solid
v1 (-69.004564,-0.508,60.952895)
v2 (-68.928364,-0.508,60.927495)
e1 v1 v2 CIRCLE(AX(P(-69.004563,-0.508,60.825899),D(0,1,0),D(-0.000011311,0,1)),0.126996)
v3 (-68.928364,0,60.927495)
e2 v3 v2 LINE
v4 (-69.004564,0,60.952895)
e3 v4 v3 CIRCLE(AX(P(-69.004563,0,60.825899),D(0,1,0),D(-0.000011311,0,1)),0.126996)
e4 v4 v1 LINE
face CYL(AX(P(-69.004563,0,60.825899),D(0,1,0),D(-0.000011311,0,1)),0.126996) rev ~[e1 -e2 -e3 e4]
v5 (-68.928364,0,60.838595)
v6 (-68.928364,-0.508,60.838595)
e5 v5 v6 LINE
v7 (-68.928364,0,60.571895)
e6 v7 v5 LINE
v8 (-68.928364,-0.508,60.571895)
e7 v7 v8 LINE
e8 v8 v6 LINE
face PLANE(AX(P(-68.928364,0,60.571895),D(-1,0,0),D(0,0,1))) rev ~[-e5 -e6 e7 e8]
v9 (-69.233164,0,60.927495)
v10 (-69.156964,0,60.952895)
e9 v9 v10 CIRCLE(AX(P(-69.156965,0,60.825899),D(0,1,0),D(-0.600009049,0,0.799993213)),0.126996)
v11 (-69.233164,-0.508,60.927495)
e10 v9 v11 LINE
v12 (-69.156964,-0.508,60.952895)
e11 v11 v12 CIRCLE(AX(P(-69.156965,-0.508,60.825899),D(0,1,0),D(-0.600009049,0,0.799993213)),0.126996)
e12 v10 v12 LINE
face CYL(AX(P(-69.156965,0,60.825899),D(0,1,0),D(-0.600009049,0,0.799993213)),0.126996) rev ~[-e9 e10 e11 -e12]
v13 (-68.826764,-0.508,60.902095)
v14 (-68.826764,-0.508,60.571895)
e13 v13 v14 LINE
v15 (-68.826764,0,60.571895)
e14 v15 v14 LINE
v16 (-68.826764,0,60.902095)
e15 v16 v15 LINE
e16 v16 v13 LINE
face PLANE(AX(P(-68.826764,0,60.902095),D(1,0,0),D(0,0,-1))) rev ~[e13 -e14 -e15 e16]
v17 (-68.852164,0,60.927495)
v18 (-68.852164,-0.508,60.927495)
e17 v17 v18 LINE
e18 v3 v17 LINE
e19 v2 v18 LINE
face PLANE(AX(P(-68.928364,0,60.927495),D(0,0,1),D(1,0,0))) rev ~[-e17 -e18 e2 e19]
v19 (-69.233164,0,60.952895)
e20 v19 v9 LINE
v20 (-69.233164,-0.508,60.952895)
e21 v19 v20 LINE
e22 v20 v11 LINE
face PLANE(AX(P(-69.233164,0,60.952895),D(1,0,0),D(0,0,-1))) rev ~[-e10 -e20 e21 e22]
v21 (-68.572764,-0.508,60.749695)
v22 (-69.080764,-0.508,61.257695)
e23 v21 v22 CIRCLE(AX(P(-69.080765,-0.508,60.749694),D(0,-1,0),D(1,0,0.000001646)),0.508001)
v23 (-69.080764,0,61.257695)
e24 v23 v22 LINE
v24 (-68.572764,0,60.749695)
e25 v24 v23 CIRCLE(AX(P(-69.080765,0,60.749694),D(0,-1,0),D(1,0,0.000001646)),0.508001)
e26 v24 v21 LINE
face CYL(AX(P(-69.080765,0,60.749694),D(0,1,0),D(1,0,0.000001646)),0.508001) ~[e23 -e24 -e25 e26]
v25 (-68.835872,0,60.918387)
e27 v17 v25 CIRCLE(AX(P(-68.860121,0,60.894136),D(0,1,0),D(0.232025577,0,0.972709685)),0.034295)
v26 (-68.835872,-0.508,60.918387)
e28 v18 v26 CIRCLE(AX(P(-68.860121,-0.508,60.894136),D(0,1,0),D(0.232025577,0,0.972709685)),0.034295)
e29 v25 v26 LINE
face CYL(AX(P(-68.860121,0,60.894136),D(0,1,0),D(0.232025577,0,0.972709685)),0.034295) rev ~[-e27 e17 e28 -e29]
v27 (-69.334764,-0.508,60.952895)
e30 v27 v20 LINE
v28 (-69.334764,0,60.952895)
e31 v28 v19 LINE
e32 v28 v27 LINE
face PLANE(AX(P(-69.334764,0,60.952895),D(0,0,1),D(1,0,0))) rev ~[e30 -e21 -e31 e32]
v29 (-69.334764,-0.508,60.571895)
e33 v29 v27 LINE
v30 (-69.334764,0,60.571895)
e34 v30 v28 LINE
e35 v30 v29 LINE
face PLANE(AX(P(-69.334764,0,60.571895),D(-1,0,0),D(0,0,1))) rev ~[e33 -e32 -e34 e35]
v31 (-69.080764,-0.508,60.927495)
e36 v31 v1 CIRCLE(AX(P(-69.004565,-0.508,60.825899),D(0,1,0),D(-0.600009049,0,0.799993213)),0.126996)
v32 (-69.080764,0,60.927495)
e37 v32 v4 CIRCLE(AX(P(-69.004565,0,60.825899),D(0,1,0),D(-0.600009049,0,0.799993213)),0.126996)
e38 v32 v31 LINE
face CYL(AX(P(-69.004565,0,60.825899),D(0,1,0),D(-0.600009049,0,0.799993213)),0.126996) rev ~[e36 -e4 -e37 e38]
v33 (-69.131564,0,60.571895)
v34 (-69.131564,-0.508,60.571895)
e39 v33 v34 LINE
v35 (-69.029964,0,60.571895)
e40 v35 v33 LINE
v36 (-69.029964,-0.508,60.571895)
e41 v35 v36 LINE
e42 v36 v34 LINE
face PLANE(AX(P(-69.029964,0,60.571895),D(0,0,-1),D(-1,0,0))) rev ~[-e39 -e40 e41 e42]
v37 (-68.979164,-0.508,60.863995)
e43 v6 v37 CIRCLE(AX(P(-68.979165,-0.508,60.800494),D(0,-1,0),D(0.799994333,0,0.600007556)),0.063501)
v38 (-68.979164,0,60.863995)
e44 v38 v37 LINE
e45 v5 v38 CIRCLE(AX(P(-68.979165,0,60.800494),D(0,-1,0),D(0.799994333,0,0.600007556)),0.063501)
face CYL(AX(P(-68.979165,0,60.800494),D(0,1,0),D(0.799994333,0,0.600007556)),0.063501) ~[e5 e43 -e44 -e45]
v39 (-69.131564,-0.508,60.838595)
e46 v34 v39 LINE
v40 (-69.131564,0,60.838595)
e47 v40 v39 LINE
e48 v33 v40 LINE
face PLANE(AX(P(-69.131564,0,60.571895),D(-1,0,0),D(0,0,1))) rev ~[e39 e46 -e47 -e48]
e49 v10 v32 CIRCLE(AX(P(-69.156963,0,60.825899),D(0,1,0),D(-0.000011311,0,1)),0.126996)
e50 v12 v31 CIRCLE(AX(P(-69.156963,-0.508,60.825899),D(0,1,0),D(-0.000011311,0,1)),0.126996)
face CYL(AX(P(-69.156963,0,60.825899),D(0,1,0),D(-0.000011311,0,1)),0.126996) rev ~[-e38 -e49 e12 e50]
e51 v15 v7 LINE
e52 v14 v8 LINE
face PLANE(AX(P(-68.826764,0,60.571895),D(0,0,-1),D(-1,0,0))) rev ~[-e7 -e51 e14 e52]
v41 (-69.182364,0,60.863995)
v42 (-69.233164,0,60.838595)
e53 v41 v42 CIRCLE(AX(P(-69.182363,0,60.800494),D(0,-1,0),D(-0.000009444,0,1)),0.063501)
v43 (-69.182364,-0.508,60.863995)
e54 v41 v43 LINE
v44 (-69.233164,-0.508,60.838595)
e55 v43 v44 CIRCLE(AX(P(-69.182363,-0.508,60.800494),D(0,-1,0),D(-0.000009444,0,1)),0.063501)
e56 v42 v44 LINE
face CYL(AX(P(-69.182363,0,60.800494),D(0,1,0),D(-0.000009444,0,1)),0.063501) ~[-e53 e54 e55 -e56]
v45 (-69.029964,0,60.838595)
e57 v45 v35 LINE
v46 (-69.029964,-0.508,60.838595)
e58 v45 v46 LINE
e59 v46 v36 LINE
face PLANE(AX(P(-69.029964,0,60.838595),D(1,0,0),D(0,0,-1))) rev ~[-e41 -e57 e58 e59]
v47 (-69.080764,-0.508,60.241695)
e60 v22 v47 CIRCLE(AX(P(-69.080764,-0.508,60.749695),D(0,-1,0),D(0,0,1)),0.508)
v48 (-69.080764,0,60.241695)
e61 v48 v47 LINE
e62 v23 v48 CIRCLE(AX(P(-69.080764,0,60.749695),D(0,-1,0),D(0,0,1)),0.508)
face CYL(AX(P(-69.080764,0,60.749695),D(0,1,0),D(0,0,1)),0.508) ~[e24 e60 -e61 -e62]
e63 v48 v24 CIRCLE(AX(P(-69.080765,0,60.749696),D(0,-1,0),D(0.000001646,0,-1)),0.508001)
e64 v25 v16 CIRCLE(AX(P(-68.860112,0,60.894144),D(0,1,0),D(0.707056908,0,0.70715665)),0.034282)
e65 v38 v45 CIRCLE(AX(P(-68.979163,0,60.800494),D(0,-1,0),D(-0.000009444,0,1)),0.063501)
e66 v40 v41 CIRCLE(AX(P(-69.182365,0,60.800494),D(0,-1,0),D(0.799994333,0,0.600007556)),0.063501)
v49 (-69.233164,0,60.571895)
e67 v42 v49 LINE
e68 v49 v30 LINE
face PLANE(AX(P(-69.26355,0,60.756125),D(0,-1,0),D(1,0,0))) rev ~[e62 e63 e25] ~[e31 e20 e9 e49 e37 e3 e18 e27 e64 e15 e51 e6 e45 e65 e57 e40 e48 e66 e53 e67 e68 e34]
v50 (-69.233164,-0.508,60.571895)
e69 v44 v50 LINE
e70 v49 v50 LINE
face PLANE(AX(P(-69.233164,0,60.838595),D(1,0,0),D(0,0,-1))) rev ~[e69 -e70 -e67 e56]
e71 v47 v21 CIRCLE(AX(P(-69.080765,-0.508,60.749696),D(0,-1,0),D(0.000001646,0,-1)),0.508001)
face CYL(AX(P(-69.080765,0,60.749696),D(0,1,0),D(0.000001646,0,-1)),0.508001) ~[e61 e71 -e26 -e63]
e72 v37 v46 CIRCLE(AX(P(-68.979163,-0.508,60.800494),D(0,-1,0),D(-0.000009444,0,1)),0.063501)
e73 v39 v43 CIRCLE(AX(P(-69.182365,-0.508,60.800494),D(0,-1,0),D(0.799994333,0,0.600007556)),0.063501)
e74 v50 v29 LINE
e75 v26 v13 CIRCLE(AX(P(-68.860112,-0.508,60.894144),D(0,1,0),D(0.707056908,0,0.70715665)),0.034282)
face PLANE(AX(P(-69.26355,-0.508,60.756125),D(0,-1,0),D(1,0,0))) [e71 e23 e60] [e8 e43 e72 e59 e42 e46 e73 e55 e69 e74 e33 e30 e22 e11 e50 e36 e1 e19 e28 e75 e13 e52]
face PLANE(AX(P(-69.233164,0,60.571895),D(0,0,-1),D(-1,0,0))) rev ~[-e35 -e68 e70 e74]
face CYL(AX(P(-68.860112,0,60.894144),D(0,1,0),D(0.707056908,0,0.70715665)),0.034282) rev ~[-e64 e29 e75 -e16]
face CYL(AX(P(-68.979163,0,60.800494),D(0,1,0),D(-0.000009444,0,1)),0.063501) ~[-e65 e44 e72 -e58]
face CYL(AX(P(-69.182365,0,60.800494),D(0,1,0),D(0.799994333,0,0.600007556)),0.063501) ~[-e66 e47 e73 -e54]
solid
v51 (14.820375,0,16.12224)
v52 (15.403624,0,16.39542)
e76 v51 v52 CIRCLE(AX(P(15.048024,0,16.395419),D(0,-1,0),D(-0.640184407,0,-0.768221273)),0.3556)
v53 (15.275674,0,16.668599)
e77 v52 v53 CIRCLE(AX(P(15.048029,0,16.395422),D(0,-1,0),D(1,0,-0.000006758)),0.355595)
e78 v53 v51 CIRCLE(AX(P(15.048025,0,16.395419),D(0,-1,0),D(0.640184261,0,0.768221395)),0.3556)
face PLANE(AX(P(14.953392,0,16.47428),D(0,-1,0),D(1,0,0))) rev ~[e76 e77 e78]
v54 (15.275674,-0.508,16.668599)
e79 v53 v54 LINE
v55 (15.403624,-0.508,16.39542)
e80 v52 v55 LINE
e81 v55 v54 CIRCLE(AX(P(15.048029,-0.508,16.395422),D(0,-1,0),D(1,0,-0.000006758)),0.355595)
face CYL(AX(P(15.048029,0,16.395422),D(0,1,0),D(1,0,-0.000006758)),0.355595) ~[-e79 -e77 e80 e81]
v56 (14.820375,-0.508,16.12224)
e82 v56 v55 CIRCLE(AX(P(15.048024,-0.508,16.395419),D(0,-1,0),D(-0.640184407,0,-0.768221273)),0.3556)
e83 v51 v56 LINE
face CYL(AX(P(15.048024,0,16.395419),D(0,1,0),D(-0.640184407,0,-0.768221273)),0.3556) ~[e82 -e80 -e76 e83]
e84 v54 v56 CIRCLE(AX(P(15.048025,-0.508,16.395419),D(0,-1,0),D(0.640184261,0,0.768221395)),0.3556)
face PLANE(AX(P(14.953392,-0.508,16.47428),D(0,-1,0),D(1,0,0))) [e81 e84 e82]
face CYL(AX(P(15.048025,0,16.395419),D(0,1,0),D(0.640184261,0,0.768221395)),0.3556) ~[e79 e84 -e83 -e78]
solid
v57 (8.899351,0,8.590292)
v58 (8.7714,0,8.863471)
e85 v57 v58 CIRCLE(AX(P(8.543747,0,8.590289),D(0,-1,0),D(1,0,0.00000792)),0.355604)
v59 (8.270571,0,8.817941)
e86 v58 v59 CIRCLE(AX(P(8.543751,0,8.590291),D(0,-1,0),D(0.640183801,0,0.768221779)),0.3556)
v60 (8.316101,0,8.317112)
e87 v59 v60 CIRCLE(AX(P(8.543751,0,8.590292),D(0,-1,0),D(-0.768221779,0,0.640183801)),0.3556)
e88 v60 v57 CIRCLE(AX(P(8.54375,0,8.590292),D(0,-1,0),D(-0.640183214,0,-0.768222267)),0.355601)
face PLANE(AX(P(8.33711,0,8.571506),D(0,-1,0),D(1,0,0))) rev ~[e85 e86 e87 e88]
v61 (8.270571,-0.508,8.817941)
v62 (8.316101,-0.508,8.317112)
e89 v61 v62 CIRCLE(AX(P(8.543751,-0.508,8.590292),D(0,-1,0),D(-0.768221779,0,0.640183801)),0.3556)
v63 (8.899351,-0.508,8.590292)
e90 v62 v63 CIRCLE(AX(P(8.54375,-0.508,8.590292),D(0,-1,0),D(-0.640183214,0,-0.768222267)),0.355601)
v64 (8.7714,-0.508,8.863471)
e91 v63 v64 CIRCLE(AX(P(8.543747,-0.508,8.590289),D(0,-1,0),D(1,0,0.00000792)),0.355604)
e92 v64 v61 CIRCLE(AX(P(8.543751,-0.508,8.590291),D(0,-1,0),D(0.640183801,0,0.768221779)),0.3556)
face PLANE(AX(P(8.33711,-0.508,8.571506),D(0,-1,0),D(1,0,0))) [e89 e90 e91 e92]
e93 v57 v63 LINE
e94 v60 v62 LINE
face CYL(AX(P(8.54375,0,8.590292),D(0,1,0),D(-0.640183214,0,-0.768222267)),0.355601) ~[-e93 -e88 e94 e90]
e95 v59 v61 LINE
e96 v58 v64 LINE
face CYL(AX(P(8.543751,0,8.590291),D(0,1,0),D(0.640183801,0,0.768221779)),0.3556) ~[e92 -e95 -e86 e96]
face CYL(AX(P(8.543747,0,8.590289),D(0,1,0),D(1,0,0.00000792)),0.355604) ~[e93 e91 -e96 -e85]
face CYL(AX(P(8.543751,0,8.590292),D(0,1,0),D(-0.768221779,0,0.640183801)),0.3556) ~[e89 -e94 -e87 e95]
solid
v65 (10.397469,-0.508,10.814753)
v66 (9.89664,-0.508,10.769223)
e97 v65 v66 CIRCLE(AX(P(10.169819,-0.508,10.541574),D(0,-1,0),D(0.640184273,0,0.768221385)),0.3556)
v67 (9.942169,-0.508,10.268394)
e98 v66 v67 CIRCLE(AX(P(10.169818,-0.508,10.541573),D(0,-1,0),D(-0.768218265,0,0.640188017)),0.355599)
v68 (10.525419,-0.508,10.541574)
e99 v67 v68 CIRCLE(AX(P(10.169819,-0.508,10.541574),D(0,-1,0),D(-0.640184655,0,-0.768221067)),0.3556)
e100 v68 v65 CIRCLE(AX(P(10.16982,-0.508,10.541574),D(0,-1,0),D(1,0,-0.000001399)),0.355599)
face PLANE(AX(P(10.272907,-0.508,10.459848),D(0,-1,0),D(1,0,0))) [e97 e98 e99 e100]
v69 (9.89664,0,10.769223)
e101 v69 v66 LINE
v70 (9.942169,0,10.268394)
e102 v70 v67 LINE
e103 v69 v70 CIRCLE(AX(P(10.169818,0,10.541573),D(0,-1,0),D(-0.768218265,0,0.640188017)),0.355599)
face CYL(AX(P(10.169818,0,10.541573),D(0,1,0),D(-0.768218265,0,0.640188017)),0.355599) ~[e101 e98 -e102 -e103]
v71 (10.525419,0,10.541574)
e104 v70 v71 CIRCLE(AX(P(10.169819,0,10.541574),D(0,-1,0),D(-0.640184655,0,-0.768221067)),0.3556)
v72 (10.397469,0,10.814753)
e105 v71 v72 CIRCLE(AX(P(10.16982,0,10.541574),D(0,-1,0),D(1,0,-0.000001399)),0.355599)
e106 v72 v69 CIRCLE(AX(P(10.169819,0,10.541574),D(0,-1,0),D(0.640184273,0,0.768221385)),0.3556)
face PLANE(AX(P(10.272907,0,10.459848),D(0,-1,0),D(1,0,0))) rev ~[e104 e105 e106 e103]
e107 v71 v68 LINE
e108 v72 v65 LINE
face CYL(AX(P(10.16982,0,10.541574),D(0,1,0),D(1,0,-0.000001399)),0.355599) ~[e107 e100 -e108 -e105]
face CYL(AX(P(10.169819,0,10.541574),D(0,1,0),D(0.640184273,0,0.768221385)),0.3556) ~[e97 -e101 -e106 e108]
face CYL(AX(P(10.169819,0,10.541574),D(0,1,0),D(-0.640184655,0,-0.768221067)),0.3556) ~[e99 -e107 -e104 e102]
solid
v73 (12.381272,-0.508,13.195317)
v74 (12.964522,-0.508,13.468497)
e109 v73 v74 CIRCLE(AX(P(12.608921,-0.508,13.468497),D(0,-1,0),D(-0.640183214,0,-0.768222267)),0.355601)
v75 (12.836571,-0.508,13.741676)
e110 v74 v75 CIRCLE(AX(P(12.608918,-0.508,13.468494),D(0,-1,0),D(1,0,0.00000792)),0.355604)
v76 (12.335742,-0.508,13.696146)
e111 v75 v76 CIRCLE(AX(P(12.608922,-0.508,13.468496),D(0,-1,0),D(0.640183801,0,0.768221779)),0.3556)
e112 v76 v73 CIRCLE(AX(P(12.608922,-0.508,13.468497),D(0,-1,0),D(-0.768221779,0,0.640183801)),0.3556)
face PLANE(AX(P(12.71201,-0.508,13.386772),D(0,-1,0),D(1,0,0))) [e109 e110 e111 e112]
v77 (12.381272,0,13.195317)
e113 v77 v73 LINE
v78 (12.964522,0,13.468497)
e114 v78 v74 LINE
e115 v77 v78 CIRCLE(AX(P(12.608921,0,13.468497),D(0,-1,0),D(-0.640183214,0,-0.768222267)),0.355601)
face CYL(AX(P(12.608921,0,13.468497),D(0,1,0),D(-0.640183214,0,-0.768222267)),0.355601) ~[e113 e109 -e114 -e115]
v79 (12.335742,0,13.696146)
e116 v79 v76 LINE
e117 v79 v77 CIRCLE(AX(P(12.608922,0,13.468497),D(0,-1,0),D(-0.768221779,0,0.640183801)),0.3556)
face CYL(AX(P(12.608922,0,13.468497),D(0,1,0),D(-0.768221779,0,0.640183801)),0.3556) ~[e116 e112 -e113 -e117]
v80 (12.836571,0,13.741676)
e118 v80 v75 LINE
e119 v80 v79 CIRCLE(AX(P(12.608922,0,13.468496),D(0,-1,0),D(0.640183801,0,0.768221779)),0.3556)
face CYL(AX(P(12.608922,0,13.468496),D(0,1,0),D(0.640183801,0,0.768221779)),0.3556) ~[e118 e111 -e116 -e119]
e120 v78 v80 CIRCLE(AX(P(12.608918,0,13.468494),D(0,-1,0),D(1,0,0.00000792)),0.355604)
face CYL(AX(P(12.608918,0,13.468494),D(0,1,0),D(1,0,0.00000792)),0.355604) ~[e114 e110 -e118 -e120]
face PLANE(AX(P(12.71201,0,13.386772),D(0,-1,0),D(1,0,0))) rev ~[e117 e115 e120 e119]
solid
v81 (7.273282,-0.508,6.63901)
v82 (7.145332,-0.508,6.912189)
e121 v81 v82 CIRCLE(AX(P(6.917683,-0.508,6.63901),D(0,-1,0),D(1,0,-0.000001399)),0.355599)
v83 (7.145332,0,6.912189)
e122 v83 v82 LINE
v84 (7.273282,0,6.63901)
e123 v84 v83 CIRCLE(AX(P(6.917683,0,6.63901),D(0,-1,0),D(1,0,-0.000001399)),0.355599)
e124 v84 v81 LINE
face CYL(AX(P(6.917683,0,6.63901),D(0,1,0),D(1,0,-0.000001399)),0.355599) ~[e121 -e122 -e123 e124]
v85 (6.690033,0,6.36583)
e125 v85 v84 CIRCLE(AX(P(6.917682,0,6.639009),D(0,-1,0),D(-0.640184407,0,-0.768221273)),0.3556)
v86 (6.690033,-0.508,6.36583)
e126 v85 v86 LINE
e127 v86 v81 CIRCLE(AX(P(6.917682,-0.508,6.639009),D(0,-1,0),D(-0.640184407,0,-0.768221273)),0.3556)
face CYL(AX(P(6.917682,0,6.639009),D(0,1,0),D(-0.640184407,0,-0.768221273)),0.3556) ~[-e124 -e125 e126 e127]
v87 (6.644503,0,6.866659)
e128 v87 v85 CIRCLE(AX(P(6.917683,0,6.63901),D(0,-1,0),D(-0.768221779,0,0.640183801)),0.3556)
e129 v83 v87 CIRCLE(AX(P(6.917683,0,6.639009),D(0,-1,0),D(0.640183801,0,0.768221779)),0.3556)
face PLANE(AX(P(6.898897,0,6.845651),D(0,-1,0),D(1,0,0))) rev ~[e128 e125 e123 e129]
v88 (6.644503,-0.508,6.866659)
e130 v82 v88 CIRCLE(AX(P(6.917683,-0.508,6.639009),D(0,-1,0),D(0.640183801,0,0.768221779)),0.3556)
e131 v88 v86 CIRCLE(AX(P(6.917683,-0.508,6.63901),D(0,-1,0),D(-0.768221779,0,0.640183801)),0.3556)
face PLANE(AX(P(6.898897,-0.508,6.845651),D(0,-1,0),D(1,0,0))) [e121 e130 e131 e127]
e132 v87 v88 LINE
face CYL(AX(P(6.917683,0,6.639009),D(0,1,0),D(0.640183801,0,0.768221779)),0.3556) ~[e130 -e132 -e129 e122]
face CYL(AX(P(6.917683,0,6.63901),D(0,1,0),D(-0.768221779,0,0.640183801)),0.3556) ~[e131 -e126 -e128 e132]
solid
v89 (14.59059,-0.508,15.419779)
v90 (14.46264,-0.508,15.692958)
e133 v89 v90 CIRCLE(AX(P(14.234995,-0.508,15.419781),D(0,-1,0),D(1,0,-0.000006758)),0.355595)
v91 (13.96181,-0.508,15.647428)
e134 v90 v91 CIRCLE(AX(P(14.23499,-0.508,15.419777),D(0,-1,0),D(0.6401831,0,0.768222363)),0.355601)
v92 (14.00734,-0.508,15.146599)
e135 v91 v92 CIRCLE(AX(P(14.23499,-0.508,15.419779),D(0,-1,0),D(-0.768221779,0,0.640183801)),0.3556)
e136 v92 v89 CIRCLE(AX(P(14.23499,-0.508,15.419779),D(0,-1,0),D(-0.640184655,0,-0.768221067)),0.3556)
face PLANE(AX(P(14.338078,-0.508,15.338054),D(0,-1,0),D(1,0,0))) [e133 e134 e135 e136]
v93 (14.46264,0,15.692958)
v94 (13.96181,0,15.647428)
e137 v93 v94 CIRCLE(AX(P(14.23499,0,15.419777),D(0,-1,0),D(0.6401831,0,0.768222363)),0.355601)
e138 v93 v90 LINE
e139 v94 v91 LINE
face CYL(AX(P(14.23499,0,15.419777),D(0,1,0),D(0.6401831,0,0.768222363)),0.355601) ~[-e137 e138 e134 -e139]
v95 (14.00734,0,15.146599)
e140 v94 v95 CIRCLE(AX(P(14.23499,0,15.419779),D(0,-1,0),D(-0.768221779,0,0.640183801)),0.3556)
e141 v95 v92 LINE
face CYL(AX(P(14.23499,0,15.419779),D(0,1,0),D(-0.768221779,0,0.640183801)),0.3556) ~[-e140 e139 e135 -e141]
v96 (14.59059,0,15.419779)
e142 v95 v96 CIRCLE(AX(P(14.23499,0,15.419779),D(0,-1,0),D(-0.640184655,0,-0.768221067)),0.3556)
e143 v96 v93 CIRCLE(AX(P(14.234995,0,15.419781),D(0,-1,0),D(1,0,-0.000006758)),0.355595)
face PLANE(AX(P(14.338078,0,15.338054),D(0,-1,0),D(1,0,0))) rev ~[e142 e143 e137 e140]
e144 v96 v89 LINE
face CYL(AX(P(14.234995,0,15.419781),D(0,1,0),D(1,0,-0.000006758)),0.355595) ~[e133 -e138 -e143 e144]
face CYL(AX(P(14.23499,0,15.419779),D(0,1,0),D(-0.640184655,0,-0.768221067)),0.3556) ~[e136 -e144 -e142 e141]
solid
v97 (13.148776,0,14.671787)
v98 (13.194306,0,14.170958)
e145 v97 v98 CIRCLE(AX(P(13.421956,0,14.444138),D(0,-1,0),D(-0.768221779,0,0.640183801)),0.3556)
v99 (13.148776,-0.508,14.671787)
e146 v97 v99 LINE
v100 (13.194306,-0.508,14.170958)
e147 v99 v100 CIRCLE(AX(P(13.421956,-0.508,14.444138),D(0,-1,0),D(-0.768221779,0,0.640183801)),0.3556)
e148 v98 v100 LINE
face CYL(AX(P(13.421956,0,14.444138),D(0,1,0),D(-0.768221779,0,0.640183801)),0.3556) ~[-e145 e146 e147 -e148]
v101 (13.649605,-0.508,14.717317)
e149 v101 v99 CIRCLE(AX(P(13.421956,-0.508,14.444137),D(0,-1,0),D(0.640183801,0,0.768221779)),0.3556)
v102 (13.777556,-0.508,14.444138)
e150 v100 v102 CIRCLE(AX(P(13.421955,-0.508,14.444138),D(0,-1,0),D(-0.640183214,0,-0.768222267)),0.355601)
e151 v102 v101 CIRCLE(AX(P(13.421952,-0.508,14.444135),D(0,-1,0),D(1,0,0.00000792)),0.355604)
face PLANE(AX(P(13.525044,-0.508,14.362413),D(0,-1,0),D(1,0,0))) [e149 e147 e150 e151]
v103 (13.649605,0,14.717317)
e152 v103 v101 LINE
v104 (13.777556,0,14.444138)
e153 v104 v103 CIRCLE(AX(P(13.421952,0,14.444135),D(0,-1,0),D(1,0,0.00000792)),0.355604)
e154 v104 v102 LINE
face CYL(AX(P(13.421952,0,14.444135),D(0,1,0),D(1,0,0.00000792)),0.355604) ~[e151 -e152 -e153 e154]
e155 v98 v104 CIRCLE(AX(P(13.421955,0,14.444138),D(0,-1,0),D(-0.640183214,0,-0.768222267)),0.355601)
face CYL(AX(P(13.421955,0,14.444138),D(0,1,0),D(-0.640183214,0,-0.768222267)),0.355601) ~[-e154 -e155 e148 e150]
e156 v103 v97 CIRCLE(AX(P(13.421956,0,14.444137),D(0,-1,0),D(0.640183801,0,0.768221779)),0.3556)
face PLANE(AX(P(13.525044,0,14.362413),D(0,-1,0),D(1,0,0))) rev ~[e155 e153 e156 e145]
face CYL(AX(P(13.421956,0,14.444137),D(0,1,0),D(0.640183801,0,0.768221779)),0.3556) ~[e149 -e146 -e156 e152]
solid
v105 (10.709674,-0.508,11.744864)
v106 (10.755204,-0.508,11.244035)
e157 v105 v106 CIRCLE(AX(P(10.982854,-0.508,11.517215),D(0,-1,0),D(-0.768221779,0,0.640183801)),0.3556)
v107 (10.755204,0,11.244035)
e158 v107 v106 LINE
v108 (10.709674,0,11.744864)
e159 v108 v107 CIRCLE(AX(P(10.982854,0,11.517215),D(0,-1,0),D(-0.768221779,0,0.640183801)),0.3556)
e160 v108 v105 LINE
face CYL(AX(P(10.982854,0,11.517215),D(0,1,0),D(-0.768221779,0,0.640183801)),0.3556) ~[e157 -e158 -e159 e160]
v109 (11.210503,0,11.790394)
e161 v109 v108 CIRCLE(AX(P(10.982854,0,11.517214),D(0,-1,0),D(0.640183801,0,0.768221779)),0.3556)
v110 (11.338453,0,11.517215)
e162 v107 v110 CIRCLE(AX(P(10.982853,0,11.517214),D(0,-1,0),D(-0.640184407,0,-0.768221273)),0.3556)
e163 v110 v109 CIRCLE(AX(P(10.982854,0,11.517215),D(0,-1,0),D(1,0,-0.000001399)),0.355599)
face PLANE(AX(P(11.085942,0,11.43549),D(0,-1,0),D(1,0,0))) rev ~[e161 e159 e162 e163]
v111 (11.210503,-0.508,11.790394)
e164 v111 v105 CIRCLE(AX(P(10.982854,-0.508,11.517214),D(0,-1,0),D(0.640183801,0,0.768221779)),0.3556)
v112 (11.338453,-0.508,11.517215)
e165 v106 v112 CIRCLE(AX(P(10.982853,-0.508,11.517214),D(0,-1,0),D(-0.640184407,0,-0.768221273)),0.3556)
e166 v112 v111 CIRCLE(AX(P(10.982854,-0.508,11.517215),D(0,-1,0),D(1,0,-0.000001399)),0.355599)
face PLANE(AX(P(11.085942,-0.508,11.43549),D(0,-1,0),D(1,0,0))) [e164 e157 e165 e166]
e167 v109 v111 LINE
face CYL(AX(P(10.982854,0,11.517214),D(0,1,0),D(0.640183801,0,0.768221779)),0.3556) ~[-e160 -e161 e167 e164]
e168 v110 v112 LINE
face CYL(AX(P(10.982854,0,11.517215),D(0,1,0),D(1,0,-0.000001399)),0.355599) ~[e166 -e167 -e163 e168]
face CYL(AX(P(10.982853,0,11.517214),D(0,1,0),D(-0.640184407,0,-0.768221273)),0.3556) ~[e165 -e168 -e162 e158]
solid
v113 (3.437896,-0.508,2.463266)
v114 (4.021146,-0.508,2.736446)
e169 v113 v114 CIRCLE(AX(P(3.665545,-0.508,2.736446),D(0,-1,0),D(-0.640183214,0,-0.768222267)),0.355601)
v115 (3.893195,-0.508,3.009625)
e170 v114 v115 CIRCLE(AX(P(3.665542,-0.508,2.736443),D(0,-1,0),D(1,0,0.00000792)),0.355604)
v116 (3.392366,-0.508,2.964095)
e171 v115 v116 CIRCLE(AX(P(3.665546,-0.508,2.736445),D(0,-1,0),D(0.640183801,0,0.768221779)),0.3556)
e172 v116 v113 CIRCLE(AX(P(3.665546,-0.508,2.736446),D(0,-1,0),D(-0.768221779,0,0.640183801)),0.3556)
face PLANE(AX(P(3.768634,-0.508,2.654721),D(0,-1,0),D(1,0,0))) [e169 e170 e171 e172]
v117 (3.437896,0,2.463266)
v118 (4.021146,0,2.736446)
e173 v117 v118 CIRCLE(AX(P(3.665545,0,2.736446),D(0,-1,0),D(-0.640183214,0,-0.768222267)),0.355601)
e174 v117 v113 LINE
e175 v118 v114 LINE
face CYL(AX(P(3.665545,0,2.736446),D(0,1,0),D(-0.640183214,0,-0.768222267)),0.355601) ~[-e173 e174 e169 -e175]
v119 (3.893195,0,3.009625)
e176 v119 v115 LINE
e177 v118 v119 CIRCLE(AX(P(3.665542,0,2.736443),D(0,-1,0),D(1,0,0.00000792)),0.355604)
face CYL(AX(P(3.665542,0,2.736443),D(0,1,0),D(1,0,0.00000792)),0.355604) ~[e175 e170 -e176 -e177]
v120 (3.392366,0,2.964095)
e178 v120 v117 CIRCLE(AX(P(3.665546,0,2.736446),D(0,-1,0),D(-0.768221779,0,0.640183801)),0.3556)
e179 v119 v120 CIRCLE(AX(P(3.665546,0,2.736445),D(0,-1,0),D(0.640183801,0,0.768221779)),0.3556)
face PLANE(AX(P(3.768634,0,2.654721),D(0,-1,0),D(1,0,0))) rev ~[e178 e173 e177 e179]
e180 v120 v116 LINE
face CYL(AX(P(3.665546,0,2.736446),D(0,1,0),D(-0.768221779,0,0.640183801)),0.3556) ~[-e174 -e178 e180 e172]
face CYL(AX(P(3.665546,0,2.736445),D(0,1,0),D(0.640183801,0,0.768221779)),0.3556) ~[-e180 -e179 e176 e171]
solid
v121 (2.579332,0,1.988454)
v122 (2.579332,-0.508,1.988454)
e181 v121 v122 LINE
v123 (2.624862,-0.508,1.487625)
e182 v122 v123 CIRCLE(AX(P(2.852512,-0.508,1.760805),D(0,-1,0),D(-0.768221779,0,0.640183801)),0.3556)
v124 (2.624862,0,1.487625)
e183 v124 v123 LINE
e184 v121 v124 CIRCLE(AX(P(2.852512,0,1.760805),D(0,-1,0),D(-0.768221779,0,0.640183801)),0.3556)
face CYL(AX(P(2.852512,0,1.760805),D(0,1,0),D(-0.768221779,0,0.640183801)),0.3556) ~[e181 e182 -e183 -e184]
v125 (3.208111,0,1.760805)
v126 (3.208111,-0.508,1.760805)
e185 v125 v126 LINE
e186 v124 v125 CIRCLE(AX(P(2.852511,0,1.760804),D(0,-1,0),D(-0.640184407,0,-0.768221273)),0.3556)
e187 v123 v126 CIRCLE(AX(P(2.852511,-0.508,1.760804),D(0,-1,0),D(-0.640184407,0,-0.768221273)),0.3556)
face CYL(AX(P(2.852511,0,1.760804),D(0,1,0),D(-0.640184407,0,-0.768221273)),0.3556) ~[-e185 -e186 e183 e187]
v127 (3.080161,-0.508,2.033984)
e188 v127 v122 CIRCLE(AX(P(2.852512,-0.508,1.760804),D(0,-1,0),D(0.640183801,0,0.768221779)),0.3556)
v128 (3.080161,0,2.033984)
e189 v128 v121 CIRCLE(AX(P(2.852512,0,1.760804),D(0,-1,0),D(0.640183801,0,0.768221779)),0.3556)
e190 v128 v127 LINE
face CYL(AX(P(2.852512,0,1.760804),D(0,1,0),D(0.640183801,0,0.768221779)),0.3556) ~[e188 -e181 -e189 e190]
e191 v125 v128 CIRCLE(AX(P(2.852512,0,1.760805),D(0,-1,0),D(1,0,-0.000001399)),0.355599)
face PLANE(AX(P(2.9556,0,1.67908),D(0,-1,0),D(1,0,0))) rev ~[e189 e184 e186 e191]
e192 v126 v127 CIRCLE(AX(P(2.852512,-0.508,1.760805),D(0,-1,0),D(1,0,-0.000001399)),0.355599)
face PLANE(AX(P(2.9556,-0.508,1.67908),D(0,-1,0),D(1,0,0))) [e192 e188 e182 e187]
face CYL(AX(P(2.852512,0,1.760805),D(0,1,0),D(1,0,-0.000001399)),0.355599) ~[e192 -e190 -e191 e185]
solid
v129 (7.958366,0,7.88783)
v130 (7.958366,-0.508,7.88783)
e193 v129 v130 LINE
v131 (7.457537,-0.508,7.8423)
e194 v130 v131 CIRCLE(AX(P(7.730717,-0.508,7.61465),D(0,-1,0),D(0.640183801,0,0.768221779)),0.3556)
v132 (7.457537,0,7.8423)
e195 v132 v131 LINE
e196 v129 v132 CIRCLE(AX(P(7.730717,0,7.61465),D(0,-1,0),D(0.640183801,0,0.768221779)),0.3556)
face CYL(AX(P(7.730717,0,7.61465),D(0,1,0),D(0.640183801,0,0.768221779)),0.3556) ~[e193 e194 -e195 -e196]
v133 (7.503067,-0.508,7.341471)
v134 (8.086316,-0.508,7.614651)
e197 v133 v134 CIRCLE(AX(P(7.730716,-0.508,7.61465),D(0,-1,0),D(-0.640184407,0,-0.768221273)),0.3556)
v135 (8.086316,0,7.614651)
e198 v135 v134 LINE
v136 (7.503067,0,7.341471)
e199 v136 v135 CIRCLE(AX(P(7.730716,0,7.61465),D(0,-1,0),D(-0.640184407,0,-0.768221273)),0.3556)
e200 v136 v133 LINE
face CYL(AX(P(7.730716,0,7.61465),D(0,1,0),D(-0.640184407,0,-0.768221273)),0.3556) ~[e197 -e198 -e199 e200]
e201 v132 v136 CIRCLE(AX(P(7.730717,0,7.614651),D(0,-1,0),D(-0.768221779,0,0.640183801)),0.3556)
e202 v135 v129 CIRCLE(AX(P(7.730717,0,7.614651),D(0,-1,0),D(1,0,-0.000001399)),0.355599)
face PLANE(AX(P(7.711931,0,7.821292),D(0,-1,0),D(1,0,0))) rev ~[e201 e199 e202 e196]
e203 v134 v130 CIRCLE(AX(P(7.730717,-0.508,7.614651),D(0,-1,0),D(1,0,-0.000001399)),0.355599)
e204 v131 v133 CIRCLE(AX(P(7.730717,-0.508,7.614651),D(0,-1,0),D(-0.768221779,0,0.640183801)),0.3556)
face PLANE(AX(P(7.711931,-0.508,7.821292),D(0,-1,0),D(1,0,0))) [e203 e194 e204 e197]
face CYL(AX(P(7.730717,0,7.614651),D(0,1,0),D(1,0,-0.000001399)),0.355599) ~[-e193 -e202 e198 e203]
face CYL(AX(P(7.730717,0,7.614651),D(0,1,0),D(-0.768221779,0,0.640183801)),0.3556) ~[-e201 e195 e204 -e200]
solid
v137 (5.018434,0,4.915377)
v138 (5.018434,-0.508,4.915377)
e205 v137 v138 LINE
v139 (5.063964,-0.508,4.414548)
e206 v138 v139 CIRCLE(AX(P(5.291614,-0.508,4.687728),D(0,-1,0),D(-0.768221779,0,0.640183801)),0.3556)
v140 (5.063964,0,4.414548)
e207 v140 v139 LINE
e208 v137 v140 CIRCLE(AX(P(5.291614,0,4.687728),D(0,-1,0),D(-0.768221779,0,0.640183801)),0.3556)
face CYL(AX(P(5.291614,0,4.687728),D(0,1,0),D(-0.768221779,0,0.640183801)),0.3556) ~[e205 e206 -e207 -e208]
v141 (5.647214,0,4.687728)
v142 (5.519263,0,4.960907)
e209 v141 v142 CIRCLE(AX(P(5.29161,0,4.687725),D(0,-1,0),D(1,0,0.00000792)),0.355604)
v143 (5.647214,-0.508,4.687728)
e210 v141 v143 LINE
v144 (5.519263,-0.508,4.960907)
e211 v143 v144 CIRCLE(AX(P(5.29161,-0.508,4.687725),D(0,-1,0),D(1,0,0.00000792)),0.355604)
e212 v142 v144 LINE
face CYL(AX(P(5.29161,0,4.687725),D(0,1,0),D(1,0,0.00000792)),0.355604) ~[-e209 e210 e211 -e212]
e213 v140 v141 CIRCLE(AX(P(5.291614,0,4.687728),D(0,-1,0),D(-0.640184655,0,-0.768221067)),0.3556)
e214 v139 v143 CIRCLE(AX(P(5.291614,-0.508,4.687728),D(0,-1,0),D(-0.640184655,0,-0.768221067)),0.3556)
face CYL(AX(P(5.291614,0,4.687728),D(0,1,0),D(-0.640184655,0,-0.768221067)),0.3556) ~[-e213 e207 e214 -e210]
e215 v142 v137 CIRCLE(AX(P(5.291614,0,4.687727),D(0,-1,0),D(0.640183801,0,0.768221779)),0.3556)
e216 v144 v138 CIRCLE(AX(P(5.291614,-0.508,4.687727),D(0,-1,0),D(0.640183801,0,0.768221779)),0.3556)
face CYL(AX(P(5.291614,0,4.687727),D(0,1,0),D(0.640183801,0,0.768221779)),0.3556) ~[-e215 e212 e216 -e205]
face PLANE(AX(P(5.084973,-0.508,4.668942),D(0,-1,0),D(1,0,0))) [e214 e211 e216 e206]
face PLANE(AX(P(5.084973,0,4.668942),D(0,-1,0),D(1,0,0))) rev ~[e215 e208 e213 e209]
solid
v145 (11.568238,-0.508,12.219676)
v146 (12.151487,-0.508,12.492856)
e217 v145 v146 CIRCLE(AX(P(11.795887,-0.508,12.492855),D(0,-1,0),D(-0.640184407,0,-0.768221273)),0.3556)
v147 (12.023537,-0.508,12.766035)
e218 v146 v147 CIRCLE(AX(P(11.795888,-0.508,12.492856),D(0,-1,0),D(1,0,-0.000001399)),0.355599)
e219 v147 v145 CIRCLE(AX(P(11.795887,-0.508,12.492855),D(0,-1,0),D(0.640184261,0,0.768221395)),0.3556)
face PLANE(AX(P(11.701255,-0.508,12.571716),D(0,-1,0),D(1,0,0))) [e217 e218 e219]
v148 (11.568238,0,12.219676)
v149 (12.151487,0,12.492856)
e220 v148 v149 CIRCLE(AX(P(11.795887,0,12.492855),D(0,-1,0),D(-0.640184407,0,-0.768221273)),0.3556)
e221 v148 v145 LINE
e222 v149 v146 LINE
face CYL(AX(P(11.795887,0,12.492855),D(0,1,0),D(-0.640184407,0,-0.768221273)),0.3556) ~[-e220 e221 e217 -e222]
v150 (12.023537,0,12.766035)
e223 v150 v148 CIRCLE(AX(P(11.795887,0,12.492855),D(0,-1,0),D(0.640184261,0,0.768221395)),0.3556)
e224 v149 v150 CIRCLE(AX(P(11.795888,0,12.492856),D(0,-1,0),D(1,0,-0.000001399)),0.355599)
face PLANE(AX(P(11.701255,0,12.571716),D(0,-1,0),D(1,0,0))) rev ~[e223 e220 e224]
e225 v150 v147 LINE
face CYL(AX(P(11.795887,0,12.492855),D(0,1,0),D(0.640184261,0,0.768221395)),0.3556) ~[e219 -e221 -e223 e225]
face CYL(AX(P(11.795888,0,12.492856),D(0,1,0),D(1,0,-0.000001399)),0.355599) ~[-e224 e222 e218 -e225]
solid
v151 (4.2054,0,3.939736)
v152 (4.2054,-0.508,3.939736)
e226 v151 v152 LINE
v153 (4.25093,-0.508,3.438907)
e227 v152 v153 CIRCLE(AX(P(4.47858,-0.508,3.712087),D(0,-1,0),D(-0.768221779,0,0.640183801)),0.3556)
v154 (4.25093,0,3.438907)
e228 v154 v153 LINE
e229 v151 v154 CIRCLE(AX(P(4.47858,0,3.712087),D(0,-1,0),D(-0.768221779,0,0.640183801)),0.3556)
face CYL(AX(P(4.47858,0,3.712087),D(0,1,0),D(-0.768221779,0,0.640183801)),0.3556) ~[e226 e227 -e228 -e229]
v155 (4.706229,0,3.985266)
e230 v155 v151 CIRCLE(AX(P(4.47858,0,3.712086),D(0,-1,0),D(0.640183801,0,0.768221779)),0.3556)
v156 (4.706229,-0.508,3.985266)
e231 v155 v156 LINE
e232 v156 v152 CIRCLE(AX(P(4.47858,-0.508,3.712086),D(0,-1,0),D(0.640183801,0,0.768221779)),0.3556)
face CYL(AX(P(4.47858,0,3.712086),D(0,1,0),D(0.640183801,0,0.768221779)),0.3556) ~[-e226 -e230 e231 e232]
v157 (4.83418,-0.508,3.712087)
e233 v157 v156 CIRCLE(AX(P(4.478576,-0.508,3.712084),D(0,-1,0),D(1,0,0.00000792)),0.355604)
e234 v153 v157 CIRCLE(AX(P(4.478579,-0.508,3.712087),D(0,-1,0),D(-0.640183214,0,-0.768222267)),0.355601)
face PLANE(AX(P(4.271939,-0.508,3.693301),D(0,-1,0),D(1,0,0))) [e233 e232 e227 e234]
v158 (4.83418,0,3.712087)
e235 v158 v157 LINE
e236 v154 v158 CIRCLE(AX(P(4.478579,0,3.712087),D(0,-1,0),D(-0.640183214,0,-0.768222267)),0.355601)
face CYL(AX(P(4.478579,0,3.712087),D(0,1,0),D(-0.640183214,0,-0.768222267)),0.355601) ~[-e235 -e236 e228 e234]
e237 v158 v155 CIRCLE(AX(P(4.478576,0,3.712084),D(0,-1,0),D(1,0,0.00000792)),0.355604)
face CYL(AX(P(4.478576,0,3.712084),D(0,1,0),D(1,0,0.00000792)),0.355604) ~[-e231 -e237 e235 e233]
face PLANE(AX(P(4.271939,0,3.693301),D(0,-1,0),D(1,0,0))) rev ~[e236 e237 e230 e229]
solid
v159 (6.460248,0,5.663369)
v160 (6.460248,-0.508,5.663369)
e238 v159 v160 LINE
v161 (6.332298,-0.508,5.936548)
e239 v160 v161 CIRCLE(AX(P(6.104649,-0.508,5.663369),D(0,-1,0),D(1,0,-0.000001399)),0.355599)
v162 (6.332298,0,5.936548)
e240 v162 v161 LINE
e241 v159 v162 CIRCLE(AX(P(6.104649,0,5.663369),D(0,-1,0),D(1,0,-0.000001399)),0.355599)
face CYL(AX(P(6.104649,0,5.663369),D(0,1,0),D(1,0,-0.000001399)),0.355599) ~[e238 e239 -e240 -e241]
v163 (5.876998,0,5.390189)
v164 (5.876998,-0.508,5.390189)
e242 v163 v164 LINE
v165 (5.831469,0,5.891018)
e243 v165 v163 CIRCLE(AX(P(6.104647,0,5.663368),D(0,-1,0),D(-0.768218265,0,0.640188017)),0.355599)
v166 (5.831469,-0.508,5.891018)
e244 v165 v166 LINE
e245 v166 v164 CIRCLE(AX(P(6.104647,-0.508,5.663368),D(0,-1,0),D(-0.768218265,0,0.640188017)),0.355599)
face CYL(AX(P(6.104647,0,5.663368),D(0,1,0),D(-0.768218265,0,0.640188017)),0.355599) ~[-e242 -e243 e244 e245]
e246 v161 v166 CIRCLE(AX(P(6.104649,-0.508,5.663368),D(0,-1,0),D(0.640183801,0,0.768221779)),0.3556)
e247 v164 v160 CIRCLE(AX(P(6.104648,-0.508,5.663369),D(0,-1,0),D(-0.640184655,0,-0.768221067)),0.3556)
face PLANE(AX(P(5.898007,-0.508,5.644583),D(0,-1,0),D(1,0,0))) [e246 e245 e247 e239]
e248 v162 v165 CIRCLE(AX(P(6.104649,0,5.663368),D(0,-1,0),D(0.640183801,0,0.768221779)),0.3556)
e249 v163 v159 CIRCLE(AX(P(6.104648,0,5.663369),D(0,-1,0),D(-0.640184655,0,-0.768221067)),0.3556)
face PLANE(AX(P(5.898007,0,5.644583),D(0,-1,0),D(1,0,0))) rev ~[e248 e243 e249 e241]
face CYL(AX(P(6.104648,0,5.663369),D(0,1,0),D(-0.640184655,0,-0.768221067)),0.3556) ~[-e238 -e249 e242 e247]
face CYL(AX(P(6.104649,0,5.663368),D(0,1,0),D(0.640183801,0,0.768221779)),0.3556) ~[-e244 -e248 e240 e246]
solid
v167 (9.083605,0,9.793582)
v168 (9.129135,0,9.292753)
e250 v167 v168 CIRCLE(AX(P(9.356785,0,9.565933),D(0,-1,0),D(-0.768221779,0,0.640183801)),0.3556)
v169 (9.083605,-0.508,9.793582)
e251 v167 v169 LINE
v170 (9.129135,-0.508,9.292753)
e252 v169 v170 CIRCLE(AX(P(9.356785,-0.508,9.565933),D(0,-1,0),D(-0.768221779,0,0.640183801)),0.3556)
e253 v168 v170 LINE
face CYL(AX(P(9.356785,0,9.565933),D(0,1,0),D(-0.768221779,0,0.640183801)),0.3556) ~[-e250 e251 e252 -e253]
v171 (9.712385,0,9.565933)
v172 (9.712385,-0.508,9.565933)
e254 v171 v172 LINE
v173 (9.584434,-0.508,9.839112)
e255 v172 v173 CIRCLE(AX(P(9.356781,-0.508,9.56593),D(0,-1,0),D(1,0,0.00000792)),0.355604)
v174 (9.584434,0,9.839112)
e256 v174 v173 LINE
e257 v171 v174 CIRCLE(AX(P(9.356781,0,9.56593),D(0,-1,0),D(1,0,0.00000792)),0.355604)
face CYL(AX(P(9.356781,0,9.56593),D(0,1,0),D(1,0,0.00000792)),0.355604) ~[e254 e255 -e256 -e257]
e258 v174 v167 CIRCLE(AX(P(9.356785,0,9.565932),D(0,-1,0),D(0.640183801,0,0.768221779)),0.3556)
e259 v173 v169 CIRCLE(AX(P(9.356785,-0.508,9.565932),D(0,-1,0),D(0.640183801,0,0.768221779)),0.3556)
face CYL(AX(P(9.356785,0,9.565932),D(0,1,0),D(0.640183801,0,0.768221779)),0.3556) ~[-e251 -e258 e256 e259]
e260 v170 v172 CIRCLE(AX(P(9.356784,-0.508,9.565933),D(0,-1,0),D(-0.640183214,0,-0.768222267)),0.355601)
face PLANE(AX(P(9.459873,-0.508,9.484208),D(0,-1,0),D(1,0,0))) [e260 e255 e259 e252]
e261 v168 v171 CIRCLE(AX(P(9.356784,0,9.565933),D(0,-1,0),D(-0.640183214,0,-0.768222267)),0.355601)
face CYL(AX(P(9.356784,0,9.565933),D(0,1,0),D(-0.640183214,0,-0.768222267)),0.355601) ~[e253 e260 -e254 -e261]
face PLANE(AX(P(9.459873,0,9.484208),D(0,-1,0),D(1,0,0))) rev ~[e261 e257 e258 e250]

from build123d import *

# Parameters (mm, degrees)
F1_DEPTH = 0.508


with BuildPart() as f1:
    # F0 (on Front) → F1 (new body)
    with BuildSketch(Plane.XZ):
        with BuildLine():
            Line((-69.080764, 60.927495), (-69.080764, 61.257695))
            ThreePointArc((-69.080764, 61.257695), (-69.588764, 60.749695), (-69.080764, 60.241695))
            Line((-69.080764, 60.241695), (-69.080764, 60.571895))
            Line((-69.080764, 60.571895), (-69.131564, 60.571895))
            Line((-69.131564, 60.571895), (-69.131564, 60.838595))
            ThreePointArc((-69.131564, 60.838595), (-69.153966, 60.857291), (-69.182364, 60.863995))
            ThreePointArc((-69.182364, 60.863995), (-69.210762, 60.857291), (-69.233164, 60.838595))
            Line((-69.233164, 60.838595), (-69.233164, 60.571895))
            Line((-69.233164, 60.571895), (-69.334764, 60.571895))
            Line((-69.334764, 60.571895), (-69.334764, 60.749695))
            Line((-69.334764, 60.749695), (-69.334764, 60.952895))
            Line((-69.334764, 60.952895), (-69.233164, 60.952895))
            Line((-69.233164, 60.952895), (-69.233164, 60.927495))
            ThreePointArc((-69.233164, 60.927495), (-69.197125, 60.946378), (-69.156964, 60.952895))
            ThreePointArc((-69.156964, 60.952895), (-69.116803, 60.946378), (-69.080764, 60.927495))
        make_face()
        with BuildLine():
            ThreePointArc((-69.080764, 60.241695), (-68.721554, 60.390485), (-68.572764, 60.749695))
            ThreePointArc((-68.572764, 60.749695), (-68.721554, 61.108905), (-69.080764, 61.257695))
            Line((-69.080764, 61.257695), (-69.080764, 60.927495))
            ThreePointArc((-69.080764, 60.927495), (-69.044725, 60.946378), (-69.004564, 60.952895))
            ThreePointArc((-69.004564, 60.952895), (-68.964403, 60.946378), (-68.928364, 60.927495))
            Line((-68.928364, 60.927495), (-68.852164, 60.927495))
            ThreePointArc((-68.852164, 60.927495), (-68.843387, 60.924071), (-68.835872, 60.918387))
            ThreePointArc((-68.835872, 60.918387), (-68.830188, 60.910873), (-68.826764, 60.902095))
            Line((-68.826764, 60.902095), (-68.826764, 60.749695))
            Line((-68.826764, 60.749695), (-68.826764, 60.571895))
            Line((-68.826764, 60.571895), (-68.928364, 60.571895))
            Line((-68.928364, 60.571895), (-68.928364, 60.838595))
            ThreePointArc((-68.928364, 60.838595), (-68.950766, 60.857291), (-68.979164, 60.863995))
            ThreePointArc((-68.979164, 60.863995), (-69.007562, 60.857291), (-69.029964, 60.838595))
            Line((-69.029964, 60.838595), (-69.029964, 60.571895))
            Line((-69.029964, 60.571895), (-69.080764, 60.571895))
            Line((-69.080764, 60.571895), (-69.080764, 60.241695))
        make_face()
        with BuildLine():
            Line((10.982853, 11.517215), (10.755204, 11.244035))
            ThreePointArc((10.755204, 11.244035), (11.133683, 11.195187), (11.338453, 11.517215))
            ThreePointArc((11.338453, 11.517215), (11.304881, 11.668044), (11.210503, 11.790394))
            Line((11.210503, 11.790394), (10.982853, 11.517215))
        make_face()
        with BuildLine():
            Line((10.169819, 10.541574), (9.942169, 10.268394))
            ThreePointArc((9.942169, 10.268394), (10.320649, 10.219546), (10.525419, 10.541574))
            ThreePointArc((10.525419, 10.541574), (10.491847, 10.692403), (10.397469, 10.814753))
            Line((10.397469, 10.814753), (10.169819, 10.541574))
        make_face()
        with BuildLine():
            Line((7.457537, 7.8423), (7.730716, 7.614651))
            Line((7.730716, 7.614651), (7.958366, 7.88783))
            ThreePointArc((7.958366, 7.88783), (7.698522, 7.96879), (7.457537, 7.8423))
        make_face()
        with BuildLine():
            ThreePointArc((8.270571, 8.817941), (8.189611, 8.558097), (8.316101, 8.317112))
            Line((8.316101, 8.317112), (8.543751, 8.590292))
            Line((8.543751, 8.590292), (8.270571, 8.817941))
        make_face()
        with BuildLine():
            Line((3.080161, 2.033984), (2.852511, 1.760805))
            Line((2.852511, 1.760805), (2.624862, 1.487625))
            ThreePointArc((2.624862, 1.487625), (3.003341, 1.438777), (3.208111, 1.760805))
            ThreePointArc((3.208111, 1.760805), (3.174539, 1.911634), (3.080161, 2.033984))
        make_face()
        with BuildLine():
            ThreePointArc((7.457537, 7.8423), (7.376577, 7.582456), (7.503067, 7.341471))
            Line((7.503067, 7.341471), (7.730716, 7.614651))
            Line((7.730716, 7.614651), (7.457537, 7.8423))
        make_face()
        with BuildLine():
            ThreePointArc((5.831469, 5.891018), (5.750508, 5.631174), (5.876998, 5.390189))
            Line((5.876998, 5.390189), (6.104648, 5.663369))
            Line((6.104648, 5.663369), (5.831469, 5.891018))
        make_face()
        with BuildLine():
            Line((9.89664, 10.769223), (10.169819, 10.541574))
            Line((10.169819, 10.541574), (10.397469, 10.814753))
            ThreePointArc((10.397469, 10.814753), (10.137624, 10.895713), (9.89664, 10.769223))
        make_face()
        with BuildLine():
            Line((8.270571, 8.817941), (8.543751, 8.590292))
            Line((8.543751, 8.590292), (8.7714, 8.863471))
            ThreePointArc((8.7714, 8.863471), (8.511556, 8.944431), (8.270571, 8.817941))
        make_face()
        with BuildLine():
            ThreePointArc((4.2054, 3.939736), (4.12444, 3.679892), (4.25093, 3.438907))
            Line((4.25093, 3.438907), (4.47858, 3.712087))
            Line((4.47858, 3.712087), (4.2054, 3.939736))
        make_face()
        with BuildLine():
            Line((2.624862, 1.487625), (2.852511, 1.760805))
            Line((2.852511, 1.760805), (2.579332, 1.988454))
            ThreePointArc((2.579332, 1.988454), (2.498372, 1.72861), (2.624862, 1.487625))
        make_face()
        with BuildLine():
            Line((6.644503, 6.866659), (6.917682, 6.63901))
            Line((6.917682, 6.63901), (7.145332, 6.912189))
            ThreePointArc((7.145332, 6.912189), (6.885488, 6.993149), (6.644503, 6.866659))
        make_face()
        with BuildLine():
            ThreePointArc((5.018434, 4.915377), (4.937474, 4.655533), (5.063964, 4.414548))
            Line((5.063964, 4.414548), (5.291614, 4.687728))
            Line((5.291614, 4.687728), (5.018434, 4.915377))
        make_face()
        with BuildLine():
            Line((3.665546, 2.736446), (3.437896, 2.463266))
            ThreePointArc((3.437896, 2.463266), (3.816375, 2.414418), (4.021146, 2.736446))
            ThreePointArc((4.021146, 2.736446), (3.987573, 2.887275), (3.893195, 3.009625))
            Line((3.893195, 3.009625), (3.665546, 2.736446))
        make_face()
        with BuildLine():
            Line((4.2054, 3.939736), (4.47858, 3.712087))
            Line((4.47858, 3.712087), (4.706229, 3.985266))
            ThreePointArc((4.706229, 3.985266), (4.446385, 4.066226), (4.2054, 3.939736))
        make_face()
        with BuildLine():
            ThreePointArc((6.644503, 6.866659), (6.563543, 6.606815), (6.690033, 6.36583))
            Line((6.690033, 6.36583), (6.917682, 6.63901))
            Line((6.917682, 6.63901), (6.644503, 6.866659))
        make_face()
        with BuildLine():
            Line((4.47858, 3.712087), (4.25093, 3.438907))
            ThreePointArc((4.25093, 3.438907), (4.629409, 3.390059), (4.83418, 3.712087))
            ThreePointArc((4.83418, 3.712087), (4.800607, 3.862916), (4.706229, 3.985266))
            Line((4.706229, 3.985266), (4.47858, 3.712087))
        make_face()
        with BuildLine():
            Line((8.543751, 8.590292), (8.316101, 8.317112))
            ThreePointArc((8.316101, 8.317112), (8.69458, 8.268264), (8.899351, 8.590292))
            ThreePointArc((8.899351, 8.590292), (8.865778, 8.741121), (8.7714, 8.863471))
            Line((8.7714, 8.863471), (8.543751, 8.590292))
        make_face()
        with BuildLine():
            Line((10.709674, 11.744864), (10.982853, 11.517215))
            Line((10.982853, 11.517215), (11.210503, 11.790394))
            ThreePointArc((11.210503, 11.790394), (10.950659, 11.871354), (10.709674, 11.744864))
        make_face()
        with BuildLine():
            Line((5.831469, 5.891018), (6.104648, 5.663369))
            Line((6.104648, 5.663369), (6.332298, 5.936548))
            ThreePointArc((6.332298, 5.936548), (6.072454, 6.017508), (5.831469, 5.891018))
        make_face()
        with BuildLine():
            ThreePointArc((15.275674, 16.668599), (14.774845, 16.623069), (14.820375, 16.12224))
            Line((14.820375, 16.12224), (15.275674, 16.668599))
        make_face()
        with BuildLine():
            Line((15.275674, 16.668599), (14.820375, 16.12224))
            ThreePointArc((14.820375, 16.12224), (15.198854, 16.073392), (15.403624, 16.39542))
            ThreePointArc((15.403624, 16.39542), (15.370052, 16.54625), (15.275674, 16.668599))
        make_face()
        with BuildLine():
            ThreePointArc((12.023537, 12.766035), (11.522708, 12.720505), (11.568238, 12.219676))
            Line((11.568238, 12.219676), (12.023537, 12.766035))
        make_face()
        with BuildLine():
            Line((12.023537, 12.766035), (11.568238, 12.219676))
            ThreePointArc((11.568238, 12.219676), (11.946717, 12.170828), (12.151487, 12.492856))
            ThreePointArc((12.151487, 12.492856), (12.117915, 12.643685), (12.023537, 12.766035))
        make_face()
        with BuildLine():
            Line((14.23499, 15.419779), (14.00734, 15.146599))
            ThreePointArc((14.00734, 15.146599), (14.38582, 15.097751), (14.59059, 15.419779))
            ThreePointArc((14.59059, 15.419779), (14.557018, 15.570609), (14.46264, 15.692958))
            Line((14.46264, 15.692958), (14.23499, 15.419779))
        make_face()
        with BuildLine():
            ThreePointArc((13.96181, 15.647428), (13.88085, 15.387584), (14.00734, 15.146599))
            Line((14.00734, 15.146599), (14.23499, 15.419779))
            Line((14.23499, 15.419779), (13.96181, 15.647428))
        make_face()
        with BuildLine():
            Line((13.421956, 14.444138), (13.194306, 14.170958))
            ThreePointArc((13.194306, 14.170958), (13.572785, 14.12211), (13.777556, 14.444138))
            ThreePointArc((13.777556, 14.444138), (13.743983, 14.594967), (13.649605, 14.717317))
            Line((13.649605, 14.717317), (13.421956, 14.444138))
        make_face()
        with BuildLine():
            Line((13.148776, 14.671787), (13.421956, 14.444138))
            Line((13.421956, 14.444138), (13.649605, 14.717317))
            ThreePointArc((13.649605, 14.717317), (13.389761, 14.798277), (13.148776, 14.671787))
        make_face()
        with BuildLine():
            Line((12.608922, 13.468497), (12.381272, 13.195317))
            ThreePointArc((12.381272, 13.195317), (12.759751, 13.146469), (12.964522, 13.468497))
            ThreePointArc((12.964522, 13.468497), (12.930949, 13.619326), (12.836571, 13.741676))
            Line((12.836571, 13.741676), (12.608922, 13.468497))
        make_face()
        with BuildLine():
            ThreePointArc((13.148776, 14.671787), (13.067816, 14.411943), (13.194306, 14.170958))
            Line((13.194306, 14.170958), (13.421956, 14.444138))
            Line((13.421956, 14.444138), (13.148776, 14.671787))
        make_face()
        with BuildLine():
            Line((6.917682, 6.63901), (6.690033, 6.36583))
            ThreePointArc((6.690033, 6.36583), (7.068512, 6.316982), (7.273282, 6.63901))
            ThreePointArc((7.273282, 6.63901), (7.23971, 6.789839), (7.145332, 6.912189))
            Line((7.145332, 6.912189), (6.917682, 6.63901))
        make_face()
        with BuildLine():
            Line((2.579332, 1.988454), (2.852511, 1.760805))
            Line((2.852511, 1.760805), (3.080161, 2.033984))
            ThreePointArc((3.080161, 2.033984), (2.820317, 2.114944), (2.579332, 1.988454))
        make_face()
        with BuildLine():
            Line((12.335742, 13.696146), (12.608922, 13.468497))
            Line((12.608922, 13.468497), (12.836571, 13.741676))
            ThreePointArc((12.836571, 13.741676), (12.576727, 13.822636), (12.335742, 13.696146))
        make_face()
        with BuildLine():
            ThreePointArc((9.89664, 10.769223), (9.815679, 10.509379), (9.942169, 10.268394))
            Line((9.942169, 10.268394), (10.169819, 10.541574))
            Line((10.169819, 10.541574), (9.89664, 10.769223))
        make_face()
        with BuildLine():
            Line((5.291614, 4.687728), (5.063964, 4.414548))
            ThreePointArc((5.063964, 4.414548), (5.442444, 4.3657), (5.647214, 4.687728))
            ThreePointArc((5.647214, 4.687728), (5.613641, 4.838557), (5.519263, 4.960907))
            Line((5.519263, 4.960907), (5.291614, 4.687728))
        make_face()
        with BuildLine():
            Line((6.104648, 5.663369), (5.876998, 5.390189))
            ThreePointArc((5.876998, 5.390189), (6.255478, 5.341341), (6.460248, 5.663369))
            ThreePointArc((6.460248, 5.663369), (6.426676, 5.814198), (6.332298, 5.936548))
            Line((6.332298, 5.936548), (6.104648, 5.663369))
        make_face()
        with BuildLine():
            Line((3.392366, 2.964095), (3.665546, 2.736446))
            Line((3.665546, 2.736446), (3.893195, 3.009625))
            ThreePointArc((3.893195, 3.009625), (3.633351, 3.090585), (3.392366, 2.964095))
        make_face()
        with BuildLine():
            Line((7.730716, 7.614651), (7.503067, 7.341471))
            ThreePointArc((7.503067, 7.341471), (7.881546, 7.292623), (8.086316, 7.614651))
            ThreePointArc((8.086316, 7.614651), (8.052744, 7.76548), (7.958366, 7.88783))
            Line((7.958366, 7.88783), (7.730716, 7.614651))
        make_face()
        with BuildLine():
            ThreePointArc((3.392366, 2.964095), (3.311406, 2.704251), (3.437896, 2.463266))
            Line((3.437896, 2.463266), (3.665546, 2.736446))
            Line((3.665546, 2.736446), (3.392366, 2.964095))
        make_face()
        with BuildLine():
            Line((9.356785, 9.565933), (9.129135, 9.292753))
            ThreePointArc((9.129135, 9.292753), (9.507614, 9.243905), (9.712385, 9.565933))
            ThreePointArc((9.712385, 9.565933), (9.678812, 9.716762), (9.584434, 9.839112))
            Line((9.584434, 9.839112), (9.356785, 9.565933))
        make_face()
        with BuildLine():
            ThreePointArc((9.083605, 9.793582), (9.002645, 9.533738), (9.129135, 9.292753))
            Line((9.129135, 9.292753), (9.356785, 9.565933))
            Line((9.356785, 9.565933), (9.083605, 9.793582))
        make_face()
        with BuildLine():
            ThreePointArc((10.709674, 11.744864), (10.628714, 11.48502), (10.755204, 11.244035))
            Line((10.755204, 11.244035), (10.982853, 11.517215))
            Line((10.982853, 11.517215), (10.709674, 11.744864))
        make_face()
        with BuildLine():
            Line((13.96181, 15.647428), (14.23499, 15.419779))
            Line((14.23499, 15.419779), (14.46264, 15.692958))
            ThreePointArc((14.46264, 15.692958), (14.202795, 15.773918), (13.96181, 15.647428))
        make_face()
        with BuildLine():
            ThreePointArc((12.335742, 13.696146), (12.254782, 13.436302), (12.381272, 13.195317))
            Line((12.381272, 13.195317), (12.608922, 13.468497))
            Line((12.608922, 13.468497), (12.335742, 13.696146))
        make_face()
        with BuildLine():
            Line((9.083605, 9.793582), (9.356785, 9.565933))
            Line((9.356785, 9.565933), (9.584434, 9.839112))
            ThreePointArc((9.584434, 9.839112), (9.32459, 9.920072), (9.083605, 9.793582))
        make_face()
        with BuildLine():
            Line((5.018434, 4.915377), (5.291614, 4.687728))
            Line((5.291614, 4.687728), (5.519263, 4.960907))
            ThreePointArc((5.519263, 4.960907), (5.259419, 5.041867), (5.018434, 4.915377))
        make_face()
    extrude(amount=F1_DEPTH)


solid = f1.part
